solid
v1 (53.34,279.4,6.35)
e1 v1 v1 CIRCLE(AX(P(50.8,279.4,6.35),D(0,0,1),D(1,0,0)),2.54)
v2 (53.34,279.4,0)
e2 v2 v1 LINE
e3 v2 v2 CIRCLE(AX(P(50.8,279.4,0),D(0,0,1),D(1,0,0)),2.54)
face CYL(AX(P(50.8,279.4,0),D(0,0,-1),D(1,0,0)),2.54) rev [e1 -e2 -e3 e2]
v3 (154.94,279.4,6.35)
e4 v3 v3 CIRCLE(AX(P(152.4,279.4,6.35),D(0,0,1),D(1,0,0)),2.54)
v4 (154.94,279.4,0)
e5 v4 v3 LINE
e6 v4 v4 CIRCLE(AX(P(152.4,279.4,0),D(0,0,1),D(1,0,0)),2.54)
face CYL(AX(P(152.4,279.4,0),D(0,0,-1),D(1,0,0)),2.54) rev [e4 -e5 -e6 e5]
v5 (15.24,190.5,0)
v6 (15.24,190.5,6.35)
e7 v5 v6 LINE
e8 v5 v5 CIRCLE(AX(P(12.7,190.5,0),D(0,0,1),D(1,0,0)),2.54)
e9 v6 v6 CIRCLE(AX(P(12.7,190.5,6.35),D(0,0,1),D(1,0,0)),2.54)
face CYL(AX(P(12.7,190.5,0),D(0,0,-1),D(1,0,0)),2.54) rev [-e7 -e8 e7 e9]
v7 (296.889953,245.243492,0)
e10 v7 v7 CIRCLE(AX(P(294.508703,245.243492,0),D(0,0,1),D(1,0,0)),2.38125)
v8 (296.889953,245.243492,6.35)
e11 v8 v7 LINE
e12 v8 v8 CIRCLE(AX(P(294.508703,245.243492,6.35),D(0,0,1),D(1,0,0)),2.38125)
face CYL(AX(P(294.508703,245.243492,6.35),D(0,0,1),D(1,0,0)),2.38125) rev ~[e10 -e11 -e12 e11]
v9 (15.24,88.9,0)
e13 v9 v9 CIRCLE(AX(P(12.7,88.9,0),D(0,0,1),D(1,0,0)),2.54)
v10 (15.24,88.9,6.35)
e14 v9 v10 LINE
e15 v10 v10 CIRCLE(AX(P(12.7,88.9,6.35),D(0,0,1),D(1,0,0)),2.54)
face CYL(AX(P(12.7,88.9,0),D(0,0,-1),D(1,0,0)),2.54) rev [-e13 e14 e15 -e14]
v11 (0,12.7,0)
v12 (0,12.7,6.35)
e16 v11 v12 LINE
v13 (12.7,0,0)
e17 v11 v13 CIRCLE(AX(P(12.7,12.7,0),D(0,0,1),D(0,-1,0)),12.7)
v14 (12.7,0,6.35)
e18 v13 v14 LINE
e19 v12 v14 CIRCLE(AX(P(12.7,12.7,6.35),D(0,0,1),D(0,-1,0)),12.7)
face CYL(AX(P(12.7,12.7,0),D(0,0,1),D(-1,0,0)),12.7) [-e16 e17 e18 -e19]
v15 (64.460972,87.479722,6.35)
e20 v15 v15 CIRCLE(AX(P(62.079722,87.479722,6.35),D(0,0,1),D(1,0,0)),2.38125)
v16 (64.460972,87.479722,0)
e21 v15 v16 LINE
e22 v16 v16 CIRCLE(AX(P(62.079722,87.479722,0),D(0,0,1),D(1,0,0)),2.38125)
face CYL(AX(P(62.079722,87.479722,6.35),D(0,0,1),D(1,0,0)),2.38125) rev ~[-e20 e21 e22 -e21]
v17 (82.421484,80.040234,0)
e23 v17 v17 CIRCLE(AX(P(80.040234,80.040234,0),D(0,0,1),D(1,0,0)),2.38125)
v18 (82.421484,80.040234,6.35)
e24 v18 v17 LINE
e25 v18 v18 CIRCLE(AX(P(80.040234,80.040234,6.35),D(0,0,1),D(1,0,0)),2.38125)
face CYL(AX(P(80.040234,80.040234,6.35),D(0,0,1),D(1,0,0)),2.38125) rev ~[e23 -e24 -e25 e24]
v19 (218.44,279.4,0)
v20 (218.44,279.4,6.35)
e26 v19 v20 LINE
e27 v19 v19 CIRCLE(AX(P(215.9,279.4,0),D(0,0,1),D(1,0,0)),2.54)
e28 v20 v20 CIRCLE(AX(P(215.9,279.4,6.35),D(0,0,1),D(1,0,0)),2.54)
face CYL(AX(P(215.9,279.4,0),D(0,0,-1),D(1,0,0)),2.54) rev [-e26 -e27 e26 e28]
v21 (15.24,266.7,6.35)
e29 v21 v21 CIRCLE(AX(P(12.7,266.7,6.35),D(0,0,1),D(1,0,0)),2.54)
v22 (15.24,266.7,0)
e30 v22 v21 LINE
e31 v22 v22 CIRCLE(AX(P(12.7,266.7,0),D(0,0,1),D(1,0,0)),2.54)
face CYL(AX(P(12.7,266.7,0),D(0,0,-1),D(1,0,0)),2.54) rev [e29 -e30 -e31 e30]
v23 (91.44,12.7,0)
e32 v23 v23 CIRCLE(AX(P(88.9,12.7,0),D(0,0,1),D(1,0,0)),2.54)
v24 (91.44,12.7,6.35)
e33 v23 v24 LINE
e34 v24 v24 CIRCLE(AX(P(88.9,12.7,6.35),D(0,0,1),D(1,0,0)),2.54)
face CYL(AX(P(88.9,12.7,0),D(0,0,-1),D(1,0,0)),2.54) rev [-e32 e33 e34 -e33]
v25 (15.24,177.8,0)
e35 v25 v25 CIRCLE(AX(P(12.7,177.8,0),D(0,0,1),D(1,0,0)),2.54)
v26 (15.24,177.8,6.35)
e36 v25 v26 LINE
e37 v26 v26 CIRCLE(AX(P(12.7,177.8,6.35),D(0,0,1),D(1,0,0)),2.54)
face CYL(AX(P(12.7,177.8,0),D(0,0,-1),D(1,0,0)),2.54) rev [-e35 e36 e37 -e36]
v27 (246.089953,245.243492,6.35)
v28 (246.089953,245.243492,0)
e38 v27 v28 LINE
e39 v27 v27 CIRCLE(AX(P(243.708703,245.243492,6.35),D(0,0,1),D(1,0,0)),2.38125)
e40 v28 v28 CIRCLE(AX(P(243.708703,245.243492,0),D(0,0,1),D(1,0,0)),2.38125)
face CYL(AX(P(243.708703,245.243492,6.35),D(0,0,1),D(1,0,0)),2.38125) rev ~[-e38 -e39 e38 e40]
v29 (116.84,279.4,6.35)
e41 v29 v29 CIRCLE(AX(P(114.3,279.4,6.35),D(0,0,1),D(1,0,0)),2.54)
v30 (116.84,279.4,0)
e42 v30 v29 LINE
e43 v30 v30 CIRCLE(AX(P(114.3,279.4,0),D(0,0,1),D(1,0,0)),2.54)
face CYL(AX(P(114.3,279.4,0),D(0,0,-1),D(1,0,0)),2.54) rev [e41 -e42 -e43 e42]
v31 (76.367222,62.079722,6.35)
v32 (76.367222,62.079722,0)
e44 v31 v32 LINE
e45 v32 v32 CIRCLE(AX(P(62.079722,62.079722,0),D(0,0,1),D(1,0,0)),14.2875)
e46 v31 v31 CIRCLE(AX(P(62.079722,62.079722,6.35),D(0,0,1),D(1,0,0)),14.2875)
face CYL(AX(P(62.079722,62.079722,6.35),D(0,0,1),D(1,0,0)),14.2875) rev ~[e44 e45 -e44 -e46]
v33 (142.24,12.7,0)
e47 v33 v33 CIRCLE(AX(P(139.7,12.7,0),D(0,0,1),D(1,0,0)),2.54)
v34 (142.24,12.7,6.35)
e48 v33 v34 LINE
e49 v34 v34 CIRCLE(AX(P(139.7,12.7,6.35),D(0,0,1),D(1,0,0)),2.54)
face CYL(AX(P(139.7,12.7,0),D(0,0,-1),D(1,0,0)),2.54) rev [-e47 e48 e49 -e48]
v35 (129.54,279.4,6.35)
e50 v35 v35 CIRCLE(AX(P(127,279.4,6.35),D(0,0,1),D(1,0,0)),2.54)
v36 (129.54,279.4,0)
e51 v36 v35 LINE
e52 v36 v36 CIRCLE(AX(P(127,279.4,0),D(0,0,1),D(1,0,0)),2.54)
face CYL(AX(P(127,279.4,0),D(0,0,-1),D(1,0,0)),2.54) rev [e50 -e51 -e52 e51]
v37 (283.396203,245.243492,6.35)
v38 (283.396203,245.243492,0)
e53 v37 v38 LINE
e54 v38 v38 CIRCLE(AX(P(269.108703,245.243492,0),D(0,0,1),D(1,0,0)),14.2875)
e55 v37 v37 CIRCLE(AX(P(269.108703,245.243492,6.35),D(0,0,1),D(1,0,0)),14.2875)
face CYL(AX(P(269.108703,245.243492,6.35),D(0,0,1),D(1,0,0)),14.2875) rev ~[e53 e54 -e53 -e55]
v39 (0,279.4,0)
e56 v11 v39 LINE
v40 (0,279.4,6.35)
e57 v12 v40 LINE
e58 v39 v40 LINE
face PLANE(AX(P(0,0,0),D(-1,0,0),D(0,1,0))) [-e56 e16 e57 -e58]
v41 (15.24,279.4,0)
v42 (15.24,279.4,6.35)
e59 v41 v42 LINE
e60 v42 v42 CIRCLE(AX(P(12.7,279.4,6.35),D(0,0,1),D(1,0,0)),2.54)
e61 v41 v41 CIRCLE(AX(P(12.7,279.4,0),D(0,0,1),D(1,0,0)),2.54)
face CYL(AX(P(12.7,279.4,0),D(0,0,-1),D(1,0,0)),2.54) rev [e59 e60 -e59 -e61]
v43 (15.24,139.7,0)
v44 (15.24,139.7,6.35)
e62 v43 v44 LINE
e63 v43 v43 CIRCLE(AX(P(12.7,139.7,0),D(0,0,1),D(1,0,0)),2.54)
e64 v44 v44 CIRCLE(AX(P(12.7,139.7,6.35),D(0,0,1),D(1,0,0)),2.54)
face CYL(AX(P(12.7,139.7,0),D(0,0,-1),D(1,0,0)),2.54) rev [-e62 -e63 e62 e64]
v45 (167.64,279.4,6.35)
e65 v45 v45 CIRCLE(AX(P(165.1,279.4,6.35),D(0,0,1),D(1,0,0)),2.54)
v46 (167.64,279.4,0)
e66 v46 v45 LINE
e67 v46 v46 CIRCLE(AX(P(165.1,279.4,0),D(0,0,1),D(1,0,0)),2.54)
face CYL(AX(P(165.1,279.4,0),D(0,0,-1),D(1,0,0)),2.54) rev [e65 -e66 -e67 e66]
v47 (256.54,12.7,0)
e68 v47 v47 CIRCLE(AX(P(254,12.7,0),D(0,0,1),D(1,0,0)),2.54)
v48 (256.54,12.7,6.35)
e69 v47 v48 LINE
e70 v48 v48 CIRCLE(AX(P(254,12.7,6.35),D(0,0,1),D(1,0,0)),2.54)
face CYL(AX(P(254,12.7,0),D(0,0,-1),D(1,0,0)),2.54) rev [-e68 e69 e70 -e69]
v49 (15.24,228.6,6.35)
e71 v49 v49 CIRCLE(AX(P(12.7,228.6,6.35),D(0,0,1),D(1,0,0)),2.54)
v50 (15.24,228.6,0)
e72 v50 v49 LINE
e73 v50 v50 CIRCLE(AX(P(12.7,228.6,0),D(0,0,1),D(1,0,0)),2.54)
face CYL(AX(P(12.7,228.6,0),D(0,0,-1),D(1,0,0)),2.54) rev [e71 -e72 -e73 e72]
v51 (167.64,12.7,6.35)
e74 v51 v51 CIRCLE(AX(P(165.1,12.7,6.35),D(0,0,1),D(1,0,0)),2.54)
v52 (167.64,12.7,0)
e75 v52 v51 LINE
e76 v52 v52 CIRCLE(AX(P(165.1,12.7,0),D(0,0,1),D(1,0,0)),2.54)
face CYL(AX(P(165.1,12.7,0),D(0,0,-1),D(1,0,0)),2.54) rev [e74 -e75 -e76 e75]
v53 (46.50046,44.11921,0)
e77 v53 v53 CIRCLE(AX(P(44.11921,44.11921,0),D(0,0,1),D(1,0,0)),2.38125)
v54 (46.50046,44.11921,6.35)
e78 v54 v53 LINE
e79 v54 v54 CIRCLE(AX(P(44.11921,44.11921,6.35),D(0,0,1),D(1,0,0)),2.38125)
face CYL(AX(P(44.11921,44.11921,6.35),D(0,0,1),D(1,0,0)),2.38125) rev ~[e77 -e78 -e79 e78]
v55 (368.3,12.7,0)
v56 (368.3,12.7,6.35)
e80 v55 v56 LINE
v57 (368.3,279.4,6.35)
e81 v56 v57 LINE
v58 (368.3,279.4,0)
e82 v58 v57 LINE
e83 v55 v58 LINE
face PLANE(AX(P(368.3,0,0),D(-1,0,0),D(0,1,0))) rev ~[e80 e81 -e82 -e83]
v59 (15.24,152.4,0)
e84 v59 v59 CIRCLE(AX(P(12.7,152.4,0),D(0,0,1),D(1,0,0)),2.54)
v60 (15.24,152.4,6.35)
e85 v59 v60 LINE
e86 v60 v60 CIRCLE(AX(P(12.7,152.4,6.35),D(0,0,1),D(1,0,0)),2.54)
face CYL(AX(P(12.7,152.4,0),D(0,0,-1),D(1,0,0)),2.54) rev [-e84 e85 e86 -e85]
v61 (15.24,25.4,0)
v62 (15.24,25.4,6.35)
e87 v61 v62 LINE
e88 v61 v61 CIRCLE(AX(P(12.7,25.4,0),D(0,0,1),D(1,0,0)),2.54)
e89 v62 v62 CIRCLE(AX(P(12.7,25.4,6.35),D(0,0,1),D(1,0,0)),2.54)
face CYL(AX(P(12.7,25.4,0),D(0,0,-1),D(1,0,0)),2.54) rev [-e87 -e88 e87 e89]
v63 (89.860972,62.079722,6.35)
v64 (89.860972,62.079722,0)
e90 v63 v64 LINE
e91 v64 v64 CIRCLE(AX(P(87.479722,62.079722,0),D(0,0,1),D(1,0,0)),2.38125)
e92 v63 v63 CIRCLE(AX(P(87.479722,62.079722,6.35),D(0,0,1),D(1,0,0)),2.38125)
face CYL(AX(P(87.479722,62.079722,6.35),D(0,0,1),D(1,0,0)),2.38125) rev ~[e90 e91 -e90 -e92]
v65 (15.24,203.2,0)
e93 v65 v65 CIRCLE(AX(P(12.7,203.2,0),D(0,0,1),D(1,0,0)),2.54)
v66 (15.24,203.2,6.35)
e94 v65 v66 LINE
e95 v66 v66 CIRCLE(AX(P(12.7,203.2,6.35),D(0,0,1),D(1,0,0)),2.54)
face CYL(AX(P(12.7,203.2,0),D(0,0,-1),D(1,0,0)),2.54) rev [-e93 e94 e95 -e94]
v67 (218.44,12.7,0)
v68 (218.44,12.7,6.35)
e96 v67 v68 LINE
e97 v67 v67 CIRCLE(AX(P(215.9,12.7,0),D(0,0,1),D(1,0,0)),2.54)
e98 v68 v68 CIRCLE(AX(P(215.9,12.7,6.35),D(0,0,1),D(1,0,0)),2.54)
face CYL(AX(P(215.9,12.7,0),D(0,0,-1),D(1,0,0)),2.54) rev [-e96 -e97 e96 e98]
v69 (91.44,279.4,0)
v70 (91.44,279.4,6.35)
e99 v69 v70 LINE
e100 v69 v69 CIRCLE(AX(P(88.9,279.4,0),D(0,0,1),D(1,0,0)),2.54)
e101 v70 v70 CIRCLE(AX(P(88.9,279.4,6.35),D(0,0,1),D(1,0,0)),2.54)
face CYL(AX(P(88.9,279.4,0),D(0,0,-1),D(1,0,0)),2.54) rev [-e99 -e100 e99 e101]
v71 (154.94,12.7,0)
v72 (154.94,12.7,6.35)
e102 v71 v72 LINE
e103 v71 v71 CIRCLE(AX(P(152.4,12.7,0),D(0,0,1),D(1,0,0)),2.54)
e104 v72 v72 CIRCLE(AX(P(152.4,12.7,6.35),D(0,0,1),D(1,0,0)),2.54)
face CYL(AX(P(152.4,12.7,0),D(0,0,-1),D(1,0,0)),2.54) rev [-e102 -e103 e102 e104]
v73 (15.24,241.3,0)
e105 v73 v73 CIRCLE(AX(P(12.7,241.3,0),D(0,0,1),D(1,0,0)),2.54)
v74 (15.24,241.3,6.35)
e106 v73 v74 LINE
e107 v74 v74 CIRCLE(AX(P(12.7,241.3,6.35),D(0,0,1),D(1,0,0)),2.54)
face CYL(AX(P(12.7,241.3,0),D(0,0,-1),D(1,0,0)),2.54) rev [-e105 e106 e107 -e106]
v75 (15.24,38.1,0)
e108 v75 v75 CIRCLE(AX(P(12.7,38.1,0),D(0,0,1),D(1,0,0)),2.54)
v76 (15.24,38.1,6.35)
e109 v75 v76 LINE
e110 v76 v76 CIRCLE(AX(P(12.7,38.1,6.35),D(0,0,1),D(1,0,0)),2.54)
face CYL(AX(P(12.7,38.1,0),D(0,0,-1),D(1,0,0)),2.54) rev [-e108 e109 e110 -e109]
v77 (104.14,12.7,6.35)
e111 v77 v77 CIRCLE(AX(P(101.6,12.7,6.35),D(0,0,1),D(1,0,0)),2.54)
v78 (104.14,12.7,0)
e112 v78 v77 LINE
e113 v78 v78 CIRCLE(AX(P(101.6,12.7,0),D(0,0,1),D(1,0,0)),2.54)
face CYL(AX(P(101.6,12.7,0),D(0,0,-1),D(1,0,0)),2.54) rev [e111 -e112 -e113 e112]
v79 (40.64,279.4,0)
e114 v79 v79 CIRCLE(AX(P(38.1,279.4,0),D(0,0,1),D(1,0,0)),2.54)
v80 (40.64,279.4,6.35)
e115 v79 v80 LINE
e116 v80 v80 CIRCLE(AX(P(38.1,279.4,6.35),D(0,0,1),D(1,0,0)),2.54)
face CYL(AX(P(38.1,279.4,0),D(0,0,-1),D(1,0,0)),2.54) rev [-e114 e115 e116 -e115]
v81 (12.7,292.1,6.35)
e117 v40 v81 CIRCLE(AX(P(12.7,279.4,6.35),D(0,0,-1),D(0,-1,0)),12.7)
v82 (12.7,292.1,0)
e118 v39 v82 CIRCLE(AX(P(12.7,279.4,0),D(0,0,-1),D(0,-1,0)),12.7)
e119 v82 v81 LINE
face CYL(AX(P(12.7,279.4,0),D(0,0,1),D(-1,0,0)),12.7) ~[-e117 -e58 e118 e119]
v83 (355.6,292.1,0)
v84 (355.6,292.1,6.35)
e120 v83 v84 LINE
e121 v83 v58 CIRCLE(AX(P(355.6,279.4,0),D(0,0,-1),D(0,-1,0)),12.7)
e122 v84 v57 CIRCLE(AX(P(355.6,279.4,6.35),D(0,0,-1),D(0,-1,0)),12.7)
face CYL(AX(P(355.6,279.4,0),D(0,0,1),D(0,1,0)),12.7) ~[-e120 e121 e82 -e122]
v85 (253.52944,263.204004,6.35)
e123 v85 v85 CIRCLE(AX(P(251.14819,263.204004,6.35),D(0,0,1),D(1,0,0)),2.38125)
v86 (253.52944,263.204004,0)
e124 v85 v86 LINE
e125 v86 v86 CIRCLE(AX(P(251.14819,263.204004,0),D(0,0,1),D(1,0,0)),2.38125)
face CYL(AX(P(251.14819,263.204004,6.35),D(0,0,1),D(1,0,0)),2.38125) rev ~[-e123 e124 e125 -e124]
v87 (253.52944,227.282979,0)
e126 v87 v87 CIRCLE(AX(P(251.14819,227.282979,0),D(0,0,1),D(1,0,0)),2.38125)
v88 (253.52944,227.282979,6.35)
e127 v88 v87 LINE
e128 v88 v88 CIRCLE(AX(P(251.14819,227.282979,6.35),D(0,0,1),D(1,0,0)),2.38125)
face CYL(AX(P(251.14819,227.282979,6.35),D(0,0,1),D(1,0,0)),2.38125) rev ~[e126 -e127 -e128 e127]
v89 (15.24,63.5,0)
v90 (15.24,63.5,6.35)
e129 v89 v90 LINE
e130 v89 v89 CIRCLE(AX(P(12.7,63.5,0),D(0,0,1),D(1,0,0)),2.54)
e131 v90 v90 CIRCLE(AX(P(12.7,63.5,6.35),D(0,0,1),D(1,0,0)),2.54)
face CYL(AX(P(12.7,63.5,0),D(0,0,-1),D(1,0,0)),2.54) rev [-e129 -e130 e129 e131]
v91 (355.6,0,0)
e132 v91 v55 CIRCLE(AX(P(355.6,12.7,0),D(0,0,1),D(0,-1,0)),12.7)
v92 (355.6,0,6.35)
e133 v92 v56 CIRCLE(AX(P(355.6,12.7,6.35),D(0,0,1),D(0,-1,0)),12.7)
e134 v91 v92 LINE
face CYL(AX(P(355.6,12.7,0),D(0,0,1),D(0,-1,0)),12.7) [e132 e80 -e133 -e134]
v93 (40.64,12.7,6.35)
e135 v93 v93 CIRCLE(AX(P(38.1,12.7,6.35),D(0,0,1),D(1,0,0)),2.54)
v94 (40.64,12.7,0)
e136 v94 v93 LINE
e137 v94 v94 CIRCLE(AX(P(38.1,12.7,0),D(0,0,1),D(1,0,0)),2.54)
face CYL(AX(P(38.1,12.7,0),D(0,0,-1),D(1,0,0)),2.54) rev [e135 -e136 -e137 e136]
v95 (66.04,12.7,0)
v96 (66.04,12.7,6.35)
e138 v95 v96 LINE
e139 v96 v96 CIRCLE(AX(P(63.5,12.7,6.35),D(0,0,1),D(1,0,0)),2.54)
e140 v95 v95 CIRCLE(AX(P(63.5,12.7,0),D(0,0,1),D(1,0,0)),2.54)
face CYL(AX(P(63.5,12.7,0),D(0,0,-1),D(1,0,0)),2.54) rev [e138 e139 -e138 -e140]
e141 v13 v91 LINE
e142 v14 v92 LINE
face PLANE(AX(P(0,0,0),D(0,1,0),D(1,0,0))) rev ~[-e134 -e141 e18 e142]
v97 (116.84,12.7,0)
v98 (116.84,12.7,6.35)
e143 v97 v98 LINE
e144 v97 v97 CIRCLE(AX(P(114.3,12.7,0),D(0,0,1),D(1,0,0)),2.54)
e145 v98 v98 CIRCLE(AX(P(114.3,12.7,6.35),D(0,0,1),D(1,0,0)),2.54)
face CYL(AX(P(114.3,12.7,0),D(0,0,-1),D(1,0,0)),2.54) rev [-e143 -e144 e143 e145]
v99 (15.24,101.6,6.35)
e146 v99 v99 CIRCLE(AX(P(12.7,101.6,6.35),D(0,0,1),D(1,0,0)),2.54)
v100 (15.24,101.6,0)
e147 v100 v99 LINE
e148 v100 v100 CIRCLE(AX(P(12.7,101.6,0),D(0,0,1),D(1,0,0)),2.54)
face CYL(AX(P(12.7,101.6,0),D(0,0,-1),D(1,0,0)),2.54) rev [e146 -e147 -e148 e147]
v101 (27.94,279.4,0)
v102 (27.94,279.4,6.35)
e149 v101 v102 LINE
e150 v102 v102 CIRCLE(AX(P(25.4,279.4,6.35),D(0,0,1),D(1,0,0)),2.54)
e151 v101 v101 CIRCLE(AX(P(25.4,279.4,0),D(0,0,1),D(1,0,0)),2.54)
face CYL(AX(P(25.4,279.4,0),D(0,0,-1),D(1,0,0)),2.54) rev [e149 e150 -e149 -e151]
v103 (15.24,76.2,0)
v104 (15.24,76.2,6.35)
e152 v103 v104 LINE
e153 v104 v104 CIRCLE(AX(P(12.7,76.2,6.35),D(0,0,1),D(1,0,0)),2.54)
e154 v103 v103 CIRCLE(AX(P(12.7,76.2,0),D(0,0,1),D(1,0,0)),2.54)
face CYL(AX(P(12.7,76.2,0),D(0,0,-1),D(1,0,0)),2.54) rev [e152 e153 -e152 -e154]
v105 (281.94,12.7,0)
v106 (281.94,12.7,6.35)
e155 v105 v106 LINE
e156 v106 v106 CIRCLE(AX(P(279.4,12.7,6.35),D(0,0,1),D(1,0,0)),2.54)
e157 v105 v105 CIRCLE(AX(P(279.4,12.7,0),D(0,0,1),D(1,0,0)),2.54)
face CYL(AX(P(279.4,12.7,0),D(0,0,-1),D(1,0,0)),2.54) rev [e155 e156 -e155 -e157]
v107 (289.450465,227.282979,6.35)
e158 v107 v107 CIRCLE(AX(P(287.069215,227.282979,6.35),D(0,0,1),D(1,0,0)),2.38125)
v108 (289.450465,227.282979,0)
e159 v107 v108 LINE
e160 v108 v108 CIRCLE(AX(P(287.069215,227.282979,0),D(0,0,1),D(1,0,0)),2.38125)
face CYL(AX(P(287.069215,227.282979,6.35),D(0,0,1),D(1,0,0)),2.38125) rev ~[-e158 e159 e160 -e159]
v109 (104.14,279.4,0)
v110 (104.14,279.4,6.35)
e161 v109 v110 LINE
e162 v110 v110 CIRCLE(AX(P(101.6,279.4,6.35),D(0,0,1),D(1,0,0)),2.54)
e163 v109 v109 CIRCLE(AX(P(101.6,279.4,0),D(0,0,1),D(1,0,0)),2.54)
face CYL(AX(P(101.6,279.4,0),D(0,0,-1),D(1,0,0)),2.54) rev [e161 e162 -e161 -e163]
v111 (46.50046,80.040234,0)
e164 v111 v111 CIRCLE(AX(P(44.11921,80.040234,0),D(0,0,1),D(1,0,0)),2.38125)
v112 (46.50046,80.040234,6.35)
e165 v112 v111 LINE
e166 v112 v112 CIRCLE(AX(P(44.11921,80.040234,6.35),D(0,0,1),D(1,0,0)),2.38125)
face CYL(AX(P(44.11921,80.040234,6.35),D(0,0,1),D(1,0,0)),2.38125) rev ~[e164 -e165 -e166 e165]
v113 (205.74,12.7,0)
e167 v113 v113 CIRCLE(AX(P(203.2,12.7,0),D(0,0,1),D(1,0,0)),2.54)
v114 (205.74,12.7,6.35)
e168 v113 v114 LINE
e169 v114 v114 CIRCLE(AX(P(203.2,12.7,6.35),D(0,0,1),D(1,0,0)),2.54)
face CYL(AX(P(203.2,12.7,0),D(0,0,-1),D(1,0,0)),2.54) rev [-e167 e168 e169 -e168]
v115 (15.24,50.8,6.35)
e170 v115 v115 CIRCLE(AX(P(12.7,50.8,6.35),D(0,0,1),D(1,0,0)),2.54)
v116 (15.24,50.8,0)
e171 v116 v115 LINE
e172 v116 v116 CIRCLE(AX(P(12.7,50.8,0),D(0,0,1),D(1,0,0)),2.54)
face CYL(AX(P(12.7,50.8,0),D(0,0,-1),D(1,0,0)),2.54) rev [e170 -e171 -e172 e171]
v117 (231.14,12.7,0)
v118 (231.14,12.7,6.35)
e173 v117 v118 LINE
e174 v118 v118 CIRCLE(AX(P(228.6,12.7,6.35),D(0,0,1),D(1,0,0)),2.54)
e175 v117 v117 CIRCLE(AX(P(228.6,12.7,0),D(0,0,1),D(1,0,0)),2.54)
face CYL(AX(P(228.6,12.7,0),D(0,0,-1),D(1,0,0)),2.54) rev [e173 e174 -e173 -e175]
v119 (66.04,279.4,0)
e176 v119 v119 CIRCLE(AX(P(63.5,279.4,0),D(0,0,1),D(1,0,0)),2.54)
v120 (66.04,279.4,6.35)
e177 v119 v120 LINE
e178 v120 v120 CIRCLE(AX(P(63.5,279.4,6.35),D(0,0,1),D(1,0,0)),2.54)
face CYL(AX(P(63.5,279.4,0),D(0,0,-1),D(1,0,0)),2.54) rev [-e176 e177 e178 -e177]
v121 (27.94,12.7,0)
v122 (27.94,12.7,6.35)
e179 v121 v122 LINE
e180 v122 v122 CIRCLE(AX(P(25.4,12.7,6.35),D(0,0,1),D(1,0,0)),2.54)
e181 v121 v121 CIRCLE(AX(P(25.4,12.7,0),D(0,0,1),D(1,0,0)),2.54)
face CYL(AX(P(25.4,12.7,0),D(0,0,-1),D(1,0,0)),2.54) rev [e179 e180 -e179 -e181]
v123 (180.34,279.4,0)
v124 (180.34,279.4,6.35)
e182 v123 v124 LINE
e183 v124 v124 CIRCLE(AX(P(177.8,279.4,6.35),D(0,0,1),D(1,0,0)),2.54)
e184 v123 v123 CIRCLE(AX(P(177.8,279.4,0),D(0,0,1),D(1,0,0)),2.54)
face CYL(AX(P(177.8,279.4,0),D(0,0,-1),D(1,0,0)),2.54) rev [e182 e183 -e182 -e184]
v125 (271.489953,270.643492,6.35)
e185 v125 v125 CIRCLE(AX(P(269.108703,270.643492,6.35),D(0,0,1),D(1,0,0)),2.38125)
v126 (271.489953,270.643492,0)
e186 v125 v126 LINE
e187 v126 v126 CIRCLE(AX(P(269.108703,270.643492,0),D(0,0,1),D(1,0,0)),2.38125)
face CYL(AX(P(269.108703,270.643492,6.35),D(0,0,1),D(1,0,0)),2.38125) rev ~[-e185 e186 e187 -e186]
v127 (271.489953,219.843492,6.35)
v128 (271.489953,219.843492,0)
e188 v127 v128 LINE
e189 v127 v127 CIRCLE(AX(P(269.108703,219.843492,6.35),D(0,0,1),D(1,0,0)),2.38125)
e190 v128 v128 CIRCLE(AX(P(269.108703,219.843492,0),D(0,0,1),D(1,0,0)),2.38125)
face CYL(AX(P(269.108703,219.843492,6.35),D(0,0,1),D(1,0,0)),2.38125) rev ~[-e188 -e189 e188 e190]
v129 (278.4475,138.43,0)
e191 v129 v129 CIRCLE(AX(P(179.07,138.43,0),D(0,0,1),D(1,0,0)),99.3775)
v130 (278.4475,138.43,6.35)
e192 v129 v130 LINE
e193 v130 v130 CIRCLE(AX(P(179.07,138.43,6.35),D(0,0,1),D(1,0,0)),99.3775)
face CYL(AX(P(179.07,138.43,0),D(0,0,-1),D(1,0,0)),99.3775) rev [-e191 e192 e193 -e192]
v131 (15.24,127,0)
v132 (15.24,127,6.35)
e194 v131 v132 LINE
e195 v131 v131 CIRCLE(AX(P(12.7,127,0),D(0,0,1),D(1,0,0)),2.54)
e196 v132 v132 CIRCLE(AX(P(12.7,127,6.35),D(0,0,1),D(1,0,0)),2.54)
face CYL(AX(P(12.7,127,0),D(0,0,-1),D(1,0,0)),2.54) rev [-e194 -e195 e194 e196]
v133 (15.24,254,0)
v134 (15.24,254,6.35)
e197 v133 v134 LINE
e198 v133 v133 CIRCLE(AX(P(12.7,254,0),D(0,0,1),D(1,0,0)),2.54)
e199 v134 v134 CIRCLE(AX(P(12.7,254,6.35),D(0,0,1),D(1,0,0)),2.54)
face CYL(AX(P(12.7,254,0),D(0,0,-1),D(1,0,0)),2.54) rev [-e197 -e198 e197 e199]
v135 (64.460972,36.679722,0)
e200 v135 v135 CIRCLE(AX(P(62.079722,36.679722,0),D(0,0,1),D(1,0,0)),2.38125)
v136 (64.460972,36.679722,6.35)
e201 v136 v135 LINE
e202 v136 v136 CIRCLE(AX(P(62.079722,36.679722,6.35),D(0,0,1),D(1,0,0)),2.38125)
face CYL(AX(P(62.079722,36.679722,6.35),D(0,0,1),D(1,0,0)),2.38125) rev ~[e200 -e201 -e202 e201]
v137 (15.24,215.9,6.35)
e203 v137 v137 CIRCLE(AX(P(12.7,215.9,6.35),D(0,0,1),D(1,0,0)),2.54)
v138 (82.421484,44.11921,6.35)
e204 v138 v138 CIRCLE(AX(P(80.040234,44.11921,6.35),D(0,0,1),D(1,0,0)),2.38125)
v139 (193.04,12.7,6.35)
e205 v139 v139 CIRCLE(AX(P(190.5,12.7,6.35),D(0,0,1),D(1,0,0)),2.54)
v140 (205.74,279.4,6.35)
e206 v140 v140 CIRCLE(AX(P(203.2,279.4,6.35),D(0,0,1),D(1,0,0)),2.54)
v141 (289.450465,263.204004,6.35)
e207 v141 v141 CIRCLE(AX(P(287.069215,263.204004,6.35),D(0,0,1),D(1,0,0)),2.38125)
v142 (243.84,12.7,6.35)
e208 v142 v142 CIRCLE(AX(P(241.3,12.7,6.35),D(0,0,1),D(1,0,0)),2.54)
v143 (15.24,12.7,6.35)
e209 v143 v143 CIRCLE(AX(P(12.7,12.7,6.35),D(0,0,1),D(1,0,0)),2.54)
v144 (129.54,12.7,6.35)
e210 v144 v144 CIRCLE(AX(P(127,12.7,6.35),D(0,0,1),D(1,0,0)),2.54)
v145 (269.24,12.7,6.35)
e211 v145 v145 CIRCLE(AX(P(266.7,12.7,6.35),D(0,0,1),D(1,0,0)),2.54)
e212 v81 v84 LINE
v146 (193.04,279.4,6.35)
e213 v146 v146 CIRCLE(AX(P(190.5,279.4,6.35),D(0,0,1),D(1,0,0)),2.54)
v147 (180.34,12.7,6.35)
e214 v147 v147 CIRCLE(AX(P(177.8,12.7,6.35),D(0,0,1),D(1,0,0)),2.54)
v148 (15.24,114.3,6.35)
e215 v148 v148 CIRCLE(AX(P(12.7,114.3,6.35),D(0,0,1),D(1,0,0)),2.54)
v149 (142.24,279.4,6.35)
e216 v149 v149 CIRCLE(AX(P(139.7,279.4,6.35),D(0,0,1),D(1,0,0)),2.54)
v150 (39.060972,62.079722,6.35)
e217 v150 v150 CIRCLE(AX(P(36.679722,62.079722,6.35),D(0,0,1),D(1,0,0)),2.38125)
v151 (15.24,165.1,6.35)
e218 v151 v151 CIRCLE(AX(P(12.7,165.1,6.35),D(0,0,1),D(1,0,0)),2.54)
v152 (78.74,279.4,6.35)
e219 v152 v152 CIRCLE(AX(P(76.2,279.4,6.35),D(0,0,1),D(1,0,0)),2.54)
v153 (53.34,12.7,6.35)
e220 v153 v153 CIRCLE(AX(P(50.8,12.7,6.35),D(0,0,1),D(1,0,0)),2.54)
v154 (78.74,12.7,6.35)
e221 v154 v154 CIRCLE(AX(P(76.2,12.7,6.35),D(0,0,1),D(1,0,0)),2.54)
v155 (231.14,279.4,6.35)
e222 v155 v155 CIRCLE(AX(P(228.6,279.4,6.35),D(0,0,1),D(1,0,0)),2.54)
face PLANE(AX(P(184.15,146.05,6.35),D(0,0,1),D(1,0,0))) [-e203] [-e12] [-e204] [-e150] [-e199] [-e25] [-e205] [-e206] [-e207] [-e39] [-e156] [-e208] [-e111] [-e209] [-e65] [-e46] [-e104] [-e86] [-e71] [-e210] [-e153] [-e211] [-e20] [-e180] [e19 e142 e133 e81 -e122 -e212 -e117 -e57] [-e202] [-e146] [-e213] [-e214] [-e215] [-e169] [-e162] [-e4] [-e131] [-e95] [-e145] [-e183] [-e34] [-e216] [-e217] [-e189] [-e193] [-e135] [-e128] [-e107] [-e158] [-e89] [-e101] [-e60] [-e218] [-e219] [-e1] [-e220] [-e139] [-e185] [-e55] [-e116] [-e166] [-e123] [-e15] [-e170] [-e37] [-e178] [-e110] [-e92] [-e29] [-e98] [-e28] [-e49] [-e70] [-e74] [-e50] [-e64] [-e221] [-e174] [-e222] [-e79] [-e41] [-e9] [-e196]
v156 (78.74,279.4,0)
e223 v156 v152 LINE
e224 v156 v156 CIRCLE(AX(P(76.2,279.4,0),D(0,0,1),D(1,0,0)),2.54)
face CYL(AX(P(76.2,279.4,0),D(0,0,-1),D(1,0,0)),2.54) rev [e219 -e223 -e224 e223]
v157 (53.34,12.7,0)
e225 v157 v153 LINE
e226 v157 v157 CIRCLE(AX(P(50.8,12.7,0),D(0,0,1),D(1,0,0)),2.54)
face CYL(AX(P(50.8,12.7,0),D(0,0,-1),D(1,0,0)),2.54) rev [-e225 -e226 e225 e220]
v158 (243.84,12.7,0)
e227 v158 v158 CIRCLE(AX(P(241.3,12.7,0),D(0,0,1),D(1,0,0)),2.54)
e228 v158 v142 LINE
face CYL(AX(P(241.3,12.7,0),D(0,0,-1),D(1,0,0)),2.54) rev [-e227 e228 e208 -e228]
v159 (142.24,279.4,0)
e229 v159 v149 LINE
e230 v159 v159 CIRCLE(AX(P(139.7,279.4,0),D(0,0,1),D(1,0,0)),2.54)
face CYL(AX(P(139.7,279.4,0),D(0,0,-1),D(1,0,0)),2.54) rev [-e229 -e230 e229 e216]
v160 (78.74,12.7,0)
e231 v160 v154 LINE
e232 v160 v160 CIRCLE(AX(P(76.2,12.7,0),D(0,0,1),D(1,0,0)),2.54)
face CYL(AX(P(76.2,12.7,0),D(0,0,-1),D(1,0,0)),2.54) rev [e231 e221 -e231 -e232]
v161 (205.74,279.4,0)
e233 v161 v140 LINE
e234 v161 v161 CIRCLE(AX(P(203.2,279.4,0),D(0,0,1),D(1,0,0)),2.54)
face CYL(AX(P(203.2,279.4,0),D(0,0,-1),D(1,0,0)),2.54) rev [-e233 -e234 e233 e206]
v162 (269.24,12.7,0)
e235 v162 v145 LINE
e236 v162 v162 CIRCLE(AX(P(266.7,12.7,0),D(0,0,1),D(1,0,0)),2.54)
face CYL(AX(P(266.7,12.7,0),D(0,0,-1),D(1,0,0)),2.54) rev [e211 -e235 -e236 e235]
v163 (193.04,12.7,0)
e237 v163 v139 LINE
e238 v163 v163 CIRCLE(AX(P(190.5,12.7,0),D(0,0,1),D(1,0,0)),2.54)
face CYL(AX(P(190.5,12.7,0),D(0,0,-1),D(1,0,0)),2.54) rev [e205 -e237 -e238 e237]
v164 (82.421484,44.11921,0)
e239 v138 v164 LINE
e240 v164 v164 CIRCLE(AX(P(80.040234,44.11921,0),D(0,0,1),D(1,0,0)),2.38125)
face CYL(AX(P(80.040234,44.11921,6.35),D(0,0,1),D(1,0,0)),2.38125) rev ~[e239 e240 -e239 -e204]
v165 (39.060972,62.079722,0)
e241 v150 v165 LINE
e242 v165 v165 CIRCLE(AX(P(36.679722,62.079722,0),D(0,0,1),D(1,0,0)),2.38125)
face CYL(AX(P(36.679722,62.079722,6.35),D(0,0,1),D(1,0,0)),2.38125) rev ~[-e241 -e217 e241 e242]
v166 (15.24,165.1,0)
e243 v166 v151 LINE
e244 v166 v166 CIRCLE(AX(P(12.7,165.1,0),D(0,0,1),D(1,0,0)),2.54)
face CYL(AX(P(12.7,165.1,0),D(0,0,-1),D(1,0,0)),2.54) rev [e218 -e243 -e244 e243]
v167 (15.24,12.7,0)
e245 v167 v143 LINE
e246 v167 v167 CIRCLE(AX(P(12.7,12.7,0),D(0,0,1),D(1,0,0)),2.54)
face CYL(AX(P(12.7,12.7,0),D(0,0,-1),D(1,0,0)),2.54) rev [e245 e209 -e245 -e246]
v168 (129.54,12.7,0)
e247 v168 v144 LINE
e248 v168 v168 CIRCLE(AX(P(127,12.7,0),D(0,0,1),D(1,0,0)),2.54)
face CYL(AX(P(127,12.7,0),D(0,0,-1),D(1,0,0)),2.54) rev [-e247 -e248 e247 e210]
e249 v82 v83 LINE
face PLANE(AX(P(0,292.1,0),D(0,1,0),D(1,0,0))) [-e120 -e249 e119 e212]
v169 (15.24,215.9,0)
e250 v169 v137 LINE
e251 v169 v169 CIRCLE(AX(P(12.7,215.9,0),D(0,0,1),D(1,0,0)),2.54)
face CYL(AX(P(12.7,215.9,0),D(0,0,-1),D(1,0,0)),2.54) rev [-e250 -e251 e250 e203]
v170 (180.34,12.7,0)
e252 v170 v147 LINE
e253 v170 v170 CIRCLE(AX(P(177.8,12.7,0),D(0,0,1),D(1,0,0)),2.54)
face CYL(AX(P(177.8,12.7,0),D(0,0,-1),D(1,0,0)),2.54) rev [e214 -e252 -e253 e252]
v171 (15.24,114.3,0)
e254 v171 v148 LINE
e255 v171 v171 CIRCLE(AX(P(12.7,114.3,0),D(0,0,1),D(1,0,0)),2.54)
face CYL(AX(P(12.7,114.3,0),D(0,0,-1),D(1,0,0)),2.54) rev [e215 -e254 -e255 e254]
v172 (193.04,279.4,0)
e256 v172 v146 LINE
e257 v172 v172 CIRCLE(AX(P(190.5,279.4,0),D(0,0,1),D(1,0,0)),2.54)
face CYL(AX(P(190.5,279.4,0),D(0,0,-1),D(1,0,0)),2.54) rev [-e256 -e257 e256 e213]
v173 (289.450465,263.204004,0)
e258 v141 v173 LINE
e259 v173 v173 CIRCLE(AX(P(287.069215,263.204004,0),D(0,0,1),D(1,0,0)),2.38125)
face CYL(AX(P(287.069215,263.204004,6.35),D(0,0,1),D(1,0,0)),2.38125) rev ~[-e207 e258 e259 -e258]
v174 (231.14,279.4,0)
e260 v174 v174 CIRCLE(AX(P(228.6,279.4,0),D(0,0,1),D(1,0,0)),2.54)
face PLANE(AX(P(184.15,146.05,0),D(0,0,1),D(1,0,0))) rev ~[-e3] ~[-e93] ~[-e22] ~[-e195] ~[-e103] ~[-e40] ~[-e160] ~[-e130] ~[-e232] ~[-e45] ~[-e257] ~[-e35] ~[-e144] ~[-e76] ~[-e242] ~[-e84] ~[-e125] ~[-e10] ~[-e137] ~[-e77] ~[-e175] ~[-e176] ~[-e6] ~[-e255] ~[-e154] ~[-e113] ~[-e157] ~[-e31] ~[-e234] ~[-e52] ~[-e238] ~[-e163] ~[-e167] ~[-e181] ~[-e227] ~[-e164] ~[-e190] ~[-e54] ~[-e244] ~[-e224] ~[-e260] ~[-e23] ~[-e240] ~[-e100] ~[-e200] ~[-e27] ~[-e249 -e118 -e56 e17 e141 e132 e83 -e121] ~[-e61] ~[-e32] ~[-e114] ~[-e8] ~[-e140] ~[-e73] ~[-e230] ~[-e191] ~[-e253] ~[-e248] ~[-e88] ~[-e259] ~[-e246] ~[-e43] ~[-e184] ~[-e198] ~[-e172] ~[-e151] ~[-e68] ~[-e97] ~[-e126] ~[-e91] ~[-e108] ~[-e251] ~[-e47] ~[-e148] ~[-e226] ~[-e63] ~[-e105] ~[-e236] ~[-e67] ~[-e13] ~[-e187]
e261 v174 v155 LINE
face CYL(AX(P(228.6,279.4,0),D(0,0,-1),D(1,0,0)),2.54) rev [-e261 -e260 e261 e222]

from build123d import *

# Parameters (mm, degrees)
SKETCH1_W           = 368.3
SKETCH1_H           = 292.1
SKETCH1_R           = 99.3775
SKETCH1_R_2         = 2.54
BOSS_EXTRUDE1_DEPTH = 6.35
SKETCH2_R           = 14.2875
SKETCH2_R_2         = 2.38125
CUT_EXTRUDE1_DEPTH  = 7.35
FILLET1_R           = 12.7


with BuildPart() as part:
    # Sketch1 → Boss-Extrude1 (new body)
    with BuildSketch(Plane.XY):
        with Locations((184.15, 146.05)):
            Rectangle(SKETCH1_W, SKETCH1_H)
        with Locations((179.07, 138.43)):
            Circle(SKETCH1_R, mode=Mode.SUBTRACT)
        with Locations((12.7, 279.4)):
            Circle(SKETCH1_R_2, mode=Mode.SUBTRACT)
        with Locations((25.4, 279.4)):
            Circle(SKETCH1_R_2, mode=Mode.SUBTRACT)
        with Locations((38.1, 279.4)):
            Circle(SKETCH1_R_2, mode=Mode.SUBTRACT)
        with Locations((50.8, 279.4)):
            Circle(SKETCH1_R_2, mode=Mode.SUBTRACT)
        with Locations((63.5, 279.4)):
            Circle(SKETCH1_R_2, mode=Mode.SUBTRACT)
        with Locations((76.2, 279.4)):
            Circle(SKETCH1_R_2, mode=Mode.SUBTRACT)
        with Locations((88.9, 279.4)):
            Circle(SKETCH1_R_2, mode=Mode.SUBTRACT)
        with Locations((101.6, 279.4)):
            Circle(SKETCH1_R_2, mode=Mode.SUBTRACT)
        with Locations((114.3, 279.4)):
            Circle(SKETCH1_R_2, mode=Mode.SUBTRACT)
        with Locations((127, 279.4)):
            Circle(SKETCH1_R_2, mode=Mode.SUBTRACT)
        with Locations((139.7, 279.4)):
            Circle(SKETCH1_R_2, mode=Mode.SUBTRACT)
        with Locations((152.4, 279.4)):
            Circle(SKETCH1_R_2, mode=Mode.SUBTRACT)
        with Locations((165.1, 279.4)):
            Circle(SKETCH1_R_2, mode=Mode.SUBTRACT)
        with Locations((177.8, 279.4)):
            Circle(SKETCH1_R_2, mode=Mode.SUBTRACT)
        with Locations((190.5, 279.4)):
            Circle(SKETCH1_R_2, mode=Mode.SUBTRACT)
        with Locations((203.2, 279.4)):
            Circle(SKETCH1_R_2, mode=Mode.SUBTRACT)
        with Locations((215.9, 279.4)):
            Circle(SKETCH1_R_2, mode=Mode.SUBTRACT)
        with Locations((228.6, 279.4)):
            Circle(SKETCH1_R_2, mode=Mode.SUBTRACT)
        with Locations((12.7, 266.7)):
            Circle(SKETCH1_R_2, mode=Mode.SUBTRACT)
        with Locations((12.7, 254)):
            Circle(SKETCH1_R_2, mode=Mode.SUBTRACT)
        with Locations((12.7, 241.3)):
            Circle(SKETCH1_R_2, mode=Mode.SUBTRACT)
        with Locations((12.7, 228.6)):
            Circle(SKETCH1_R_2, mode=Mode.SUBTRACT)
        with Locations((12.7, 215.9)):
            Circle(SKETCH1_R_2, mode=Mode.SUBTRACT)
        with Locations((12.7, 203.2)):
            Circle(SKETCH1_R_2, mode=Mode.SUBTRACT)
        with Locations((12.7, 190.5)):
            Circle(SKETCH1_R_2, mode=Mode.SUBTRACT)
        with Locations((12.7, 177.8)):
            Circle(SKETCH1_R_2, mode=Mode.SUBTRACT)
        with Locations((12.7, 165.1)):
            Circle(SKETCH1_R_2, mode=Mode.SUBTRACT)
        with Locations((12.7, 152.4)):
            Circle(SKETCH1_R_2, mode=Mode.SUBTRACT)
        with Locations((12.7, 139.7)):
            Circle(SKETCH1_R_2, mode=Mode.SUBTRACT)
        with Locations((12.7, 127)):
            Circle(SKETCH1_R_2, mode=Mode.SUBTRACT)
        with Locations((12.7, 114.3)):
            Circle(SKETCH1_R_2, mode=Mode.SUBTRACT)
        with Locations((12.7, 101.6)):
            Circle(SKETCH1_R_2, mode=Mode.SUBTRACT)
        with Locations((12.7, 88.9)):
            Circle(SKETCH1_R_2, mode=Mode.SUBTRACT)
        with Locations((12.7, 76.2)):
            Circle(SKETCH1_R_2, mode=Mode.SUBTRACT)
        with Locations((12.7, 63.5)):
            Circle(SKETCH1_R_2, mode=Mode.SUBTRACT)
        with Locations((12.7, 50.8)):
            Circle(SKETCH1_R_2, mode=Mode.SUBTRACT)
        with Locations((12.7, 38.1)):
            Circle(SKETCH1_R_2, mode=Mode.SUBTRACT)
        with Locations((12.7, 25.4)):
            Circle(SKETCH1_R_2, mode=Mode.SUBTRACT)
        with Locations((12.7, 12.7)):
            Circle(SKETCH1_R_2, mode=Mode.SUBTRACT)
        with Locations((25.4, 12.7)):
            Circle(SKETCH1_R_2, mode=Mode.SUBTRACT)
        with Locations((38.1, 12.7)):
            Circle(SKETCH1_R_2, mode=Mode.SUBTRACT)
        with Locations((50.8, 12.7)):
            Circle(SKETCH1_R_2, mode=Mode.SUBTRACT)
        with Locations((63.5, 12.7)):
            Circle(SKETCH1_R_2, mode=Mode.SUBTRACT)
        with Locations((76.2, 12.7)):
            Circle(SKETCH1_R_2, mode=Mode.SUBTRACT)
        with Locations((88.9, 12.7)):
            Circle(SKETCH1_R_2, mode=Mode.SUBTRACT)
        with Locations((101.6, 12.7)):
            Circle(SKETCH1_R_2, mode=Mode.SUBTRACT)
        with Locations((114.3, 12.7)):
            Circle(SKETCH1_R_2, mode=Mode.SUBTRACT)
        with Locations((127, 12.7)):
            Circle(SKETCH1_R_2, mode=Mode.SUBTRACT)
        with Locations((139.7, 12.7)):
            Circle(SKETCH1_R_2, mode=Mode.SUBTRACT)
        with Locations((152.4, 12.7)):
            Circle(SKETCH1_R_2, mode=Mode.SUBTRACT)
        with Locations((165.1, 12.7)):
            Circle(SKETCH1_R_2, mode=Mode.SUBTRACT)
        with Locations((177.8, 12.7)):
            Circle(SKETCH1_R_2, mode=Mode.SUBTRACT)
        with Locations((190.5, 12.7)):
            Circle(SKETCH1_R_2, mode=Mode.SUBTRACT)
        with Locations((203.2, 12.7)):
            Circle(SKETCH1_R_2, mode=Mode.SUBTRACT)
        with Locations((215.9, 12.7)):
            Circle(SKETCH1_R_2, mode=Mode.SUBTRACT)
        with Locations((228.6, 12.7)):
            Circle(SKETCH1_R_2, mode=Mode.SUBTRACT)
        with Locations((241.3, 12.7)):
            Circle(SKETCH1_R_2, mode=Mode.SUBTRACT)
        with Locations((254, 12.7)):
            Circle(SKETCH1_R_2, mode=Mode.SUBTRACT)
        with Locations((266.7, 12.7)):
            Circle(SKETCH1_R_2, mode=Mode.SUBTRACT)
        with Locations((279.4, 12.7)):
            Circle(SKETCH1_R_2, mode=Mode.SUBTRACT)
    extrude(amount=BOSS_EXTRUDE1_DEPTH)

    # Sketch2 → Cut-Extrude1 (cut, through all)
    with BuildSketch(Plane.XY.offset(6.35)):
        with Locations((62.079722251, 62.079722251)):
            Circle(SKETCH2_R)
        with Locations((269.10870269, 245.243491741)):
            Circle(SKETCH2_R)
        with Locations((62.079722251, 87.479722251)):
            Circle(SKETCH2_R_2)
        with Locations((80.040234493, 80.040234493)):
            Circle(SKETCH2_R_2)
        with Locations((87.479722251, 62.079722251)):
            Circle(SKETCH2_R_2)
        with Locations((80.040234493, 44.119210009)):
            Circle(SKETCH2_R_2)
        with Locations((62.079722251, 36.679722251)):
            Circle(SKETCH2_R_2)
        with Locations((44.119210009, 44.119210009)):
            Circle(SKETCH2_R_2)
        with Locations((36.679722251, 62.079722251)):
            Circle(SKETCH2_R_2)
        with Locations((44.119210009, 80.040234493)):
            Circle(SKETCH2_R_2)
        with Locations((269.10870269, 270.643491741)):
            Circle(SKETCH2_R_2)
        with Locations((287.069214932, 263.204003983)):
            Circle(SKETCH2_R_2)
        with Locations((294.50870269, 245.243491741)):
            Circle(SKETCH2_R_2)
        with Locations((287.069214932, 227.282979499)):
            Circle(SKETCH2_R_2)
        with Locations((269.10870269, 219.843491741)):
            Circle(SKETCH2_R_2)
        with Locations((251.148190448, 227.282979499)):
            Circle(SKETCH2_R_2)
        with Locations((243.70870269, 245.243491741)):
            Circle(SKETCH2_R_2)
        with Locations((251.148190448, 263.204003983)):
            Circle(SKETCH2_R_2)
    extrude(amount=-CUT_EXTRUDE1_DEPTH, mode=Mode.SUBTRACT)

    # Fillet1
    fillet1_edges = [part.edges().sort_by_distance(p)[0] for p in [
        (0, 292.1, 3.175),
        (368.3, 292.1, 3.175),
        (368.3, 0, 3.175),
        (0, 0, 3.175),
    ]]
    fillet(fillet1_edges, radius=FILLET1_R)


solid = part.part
